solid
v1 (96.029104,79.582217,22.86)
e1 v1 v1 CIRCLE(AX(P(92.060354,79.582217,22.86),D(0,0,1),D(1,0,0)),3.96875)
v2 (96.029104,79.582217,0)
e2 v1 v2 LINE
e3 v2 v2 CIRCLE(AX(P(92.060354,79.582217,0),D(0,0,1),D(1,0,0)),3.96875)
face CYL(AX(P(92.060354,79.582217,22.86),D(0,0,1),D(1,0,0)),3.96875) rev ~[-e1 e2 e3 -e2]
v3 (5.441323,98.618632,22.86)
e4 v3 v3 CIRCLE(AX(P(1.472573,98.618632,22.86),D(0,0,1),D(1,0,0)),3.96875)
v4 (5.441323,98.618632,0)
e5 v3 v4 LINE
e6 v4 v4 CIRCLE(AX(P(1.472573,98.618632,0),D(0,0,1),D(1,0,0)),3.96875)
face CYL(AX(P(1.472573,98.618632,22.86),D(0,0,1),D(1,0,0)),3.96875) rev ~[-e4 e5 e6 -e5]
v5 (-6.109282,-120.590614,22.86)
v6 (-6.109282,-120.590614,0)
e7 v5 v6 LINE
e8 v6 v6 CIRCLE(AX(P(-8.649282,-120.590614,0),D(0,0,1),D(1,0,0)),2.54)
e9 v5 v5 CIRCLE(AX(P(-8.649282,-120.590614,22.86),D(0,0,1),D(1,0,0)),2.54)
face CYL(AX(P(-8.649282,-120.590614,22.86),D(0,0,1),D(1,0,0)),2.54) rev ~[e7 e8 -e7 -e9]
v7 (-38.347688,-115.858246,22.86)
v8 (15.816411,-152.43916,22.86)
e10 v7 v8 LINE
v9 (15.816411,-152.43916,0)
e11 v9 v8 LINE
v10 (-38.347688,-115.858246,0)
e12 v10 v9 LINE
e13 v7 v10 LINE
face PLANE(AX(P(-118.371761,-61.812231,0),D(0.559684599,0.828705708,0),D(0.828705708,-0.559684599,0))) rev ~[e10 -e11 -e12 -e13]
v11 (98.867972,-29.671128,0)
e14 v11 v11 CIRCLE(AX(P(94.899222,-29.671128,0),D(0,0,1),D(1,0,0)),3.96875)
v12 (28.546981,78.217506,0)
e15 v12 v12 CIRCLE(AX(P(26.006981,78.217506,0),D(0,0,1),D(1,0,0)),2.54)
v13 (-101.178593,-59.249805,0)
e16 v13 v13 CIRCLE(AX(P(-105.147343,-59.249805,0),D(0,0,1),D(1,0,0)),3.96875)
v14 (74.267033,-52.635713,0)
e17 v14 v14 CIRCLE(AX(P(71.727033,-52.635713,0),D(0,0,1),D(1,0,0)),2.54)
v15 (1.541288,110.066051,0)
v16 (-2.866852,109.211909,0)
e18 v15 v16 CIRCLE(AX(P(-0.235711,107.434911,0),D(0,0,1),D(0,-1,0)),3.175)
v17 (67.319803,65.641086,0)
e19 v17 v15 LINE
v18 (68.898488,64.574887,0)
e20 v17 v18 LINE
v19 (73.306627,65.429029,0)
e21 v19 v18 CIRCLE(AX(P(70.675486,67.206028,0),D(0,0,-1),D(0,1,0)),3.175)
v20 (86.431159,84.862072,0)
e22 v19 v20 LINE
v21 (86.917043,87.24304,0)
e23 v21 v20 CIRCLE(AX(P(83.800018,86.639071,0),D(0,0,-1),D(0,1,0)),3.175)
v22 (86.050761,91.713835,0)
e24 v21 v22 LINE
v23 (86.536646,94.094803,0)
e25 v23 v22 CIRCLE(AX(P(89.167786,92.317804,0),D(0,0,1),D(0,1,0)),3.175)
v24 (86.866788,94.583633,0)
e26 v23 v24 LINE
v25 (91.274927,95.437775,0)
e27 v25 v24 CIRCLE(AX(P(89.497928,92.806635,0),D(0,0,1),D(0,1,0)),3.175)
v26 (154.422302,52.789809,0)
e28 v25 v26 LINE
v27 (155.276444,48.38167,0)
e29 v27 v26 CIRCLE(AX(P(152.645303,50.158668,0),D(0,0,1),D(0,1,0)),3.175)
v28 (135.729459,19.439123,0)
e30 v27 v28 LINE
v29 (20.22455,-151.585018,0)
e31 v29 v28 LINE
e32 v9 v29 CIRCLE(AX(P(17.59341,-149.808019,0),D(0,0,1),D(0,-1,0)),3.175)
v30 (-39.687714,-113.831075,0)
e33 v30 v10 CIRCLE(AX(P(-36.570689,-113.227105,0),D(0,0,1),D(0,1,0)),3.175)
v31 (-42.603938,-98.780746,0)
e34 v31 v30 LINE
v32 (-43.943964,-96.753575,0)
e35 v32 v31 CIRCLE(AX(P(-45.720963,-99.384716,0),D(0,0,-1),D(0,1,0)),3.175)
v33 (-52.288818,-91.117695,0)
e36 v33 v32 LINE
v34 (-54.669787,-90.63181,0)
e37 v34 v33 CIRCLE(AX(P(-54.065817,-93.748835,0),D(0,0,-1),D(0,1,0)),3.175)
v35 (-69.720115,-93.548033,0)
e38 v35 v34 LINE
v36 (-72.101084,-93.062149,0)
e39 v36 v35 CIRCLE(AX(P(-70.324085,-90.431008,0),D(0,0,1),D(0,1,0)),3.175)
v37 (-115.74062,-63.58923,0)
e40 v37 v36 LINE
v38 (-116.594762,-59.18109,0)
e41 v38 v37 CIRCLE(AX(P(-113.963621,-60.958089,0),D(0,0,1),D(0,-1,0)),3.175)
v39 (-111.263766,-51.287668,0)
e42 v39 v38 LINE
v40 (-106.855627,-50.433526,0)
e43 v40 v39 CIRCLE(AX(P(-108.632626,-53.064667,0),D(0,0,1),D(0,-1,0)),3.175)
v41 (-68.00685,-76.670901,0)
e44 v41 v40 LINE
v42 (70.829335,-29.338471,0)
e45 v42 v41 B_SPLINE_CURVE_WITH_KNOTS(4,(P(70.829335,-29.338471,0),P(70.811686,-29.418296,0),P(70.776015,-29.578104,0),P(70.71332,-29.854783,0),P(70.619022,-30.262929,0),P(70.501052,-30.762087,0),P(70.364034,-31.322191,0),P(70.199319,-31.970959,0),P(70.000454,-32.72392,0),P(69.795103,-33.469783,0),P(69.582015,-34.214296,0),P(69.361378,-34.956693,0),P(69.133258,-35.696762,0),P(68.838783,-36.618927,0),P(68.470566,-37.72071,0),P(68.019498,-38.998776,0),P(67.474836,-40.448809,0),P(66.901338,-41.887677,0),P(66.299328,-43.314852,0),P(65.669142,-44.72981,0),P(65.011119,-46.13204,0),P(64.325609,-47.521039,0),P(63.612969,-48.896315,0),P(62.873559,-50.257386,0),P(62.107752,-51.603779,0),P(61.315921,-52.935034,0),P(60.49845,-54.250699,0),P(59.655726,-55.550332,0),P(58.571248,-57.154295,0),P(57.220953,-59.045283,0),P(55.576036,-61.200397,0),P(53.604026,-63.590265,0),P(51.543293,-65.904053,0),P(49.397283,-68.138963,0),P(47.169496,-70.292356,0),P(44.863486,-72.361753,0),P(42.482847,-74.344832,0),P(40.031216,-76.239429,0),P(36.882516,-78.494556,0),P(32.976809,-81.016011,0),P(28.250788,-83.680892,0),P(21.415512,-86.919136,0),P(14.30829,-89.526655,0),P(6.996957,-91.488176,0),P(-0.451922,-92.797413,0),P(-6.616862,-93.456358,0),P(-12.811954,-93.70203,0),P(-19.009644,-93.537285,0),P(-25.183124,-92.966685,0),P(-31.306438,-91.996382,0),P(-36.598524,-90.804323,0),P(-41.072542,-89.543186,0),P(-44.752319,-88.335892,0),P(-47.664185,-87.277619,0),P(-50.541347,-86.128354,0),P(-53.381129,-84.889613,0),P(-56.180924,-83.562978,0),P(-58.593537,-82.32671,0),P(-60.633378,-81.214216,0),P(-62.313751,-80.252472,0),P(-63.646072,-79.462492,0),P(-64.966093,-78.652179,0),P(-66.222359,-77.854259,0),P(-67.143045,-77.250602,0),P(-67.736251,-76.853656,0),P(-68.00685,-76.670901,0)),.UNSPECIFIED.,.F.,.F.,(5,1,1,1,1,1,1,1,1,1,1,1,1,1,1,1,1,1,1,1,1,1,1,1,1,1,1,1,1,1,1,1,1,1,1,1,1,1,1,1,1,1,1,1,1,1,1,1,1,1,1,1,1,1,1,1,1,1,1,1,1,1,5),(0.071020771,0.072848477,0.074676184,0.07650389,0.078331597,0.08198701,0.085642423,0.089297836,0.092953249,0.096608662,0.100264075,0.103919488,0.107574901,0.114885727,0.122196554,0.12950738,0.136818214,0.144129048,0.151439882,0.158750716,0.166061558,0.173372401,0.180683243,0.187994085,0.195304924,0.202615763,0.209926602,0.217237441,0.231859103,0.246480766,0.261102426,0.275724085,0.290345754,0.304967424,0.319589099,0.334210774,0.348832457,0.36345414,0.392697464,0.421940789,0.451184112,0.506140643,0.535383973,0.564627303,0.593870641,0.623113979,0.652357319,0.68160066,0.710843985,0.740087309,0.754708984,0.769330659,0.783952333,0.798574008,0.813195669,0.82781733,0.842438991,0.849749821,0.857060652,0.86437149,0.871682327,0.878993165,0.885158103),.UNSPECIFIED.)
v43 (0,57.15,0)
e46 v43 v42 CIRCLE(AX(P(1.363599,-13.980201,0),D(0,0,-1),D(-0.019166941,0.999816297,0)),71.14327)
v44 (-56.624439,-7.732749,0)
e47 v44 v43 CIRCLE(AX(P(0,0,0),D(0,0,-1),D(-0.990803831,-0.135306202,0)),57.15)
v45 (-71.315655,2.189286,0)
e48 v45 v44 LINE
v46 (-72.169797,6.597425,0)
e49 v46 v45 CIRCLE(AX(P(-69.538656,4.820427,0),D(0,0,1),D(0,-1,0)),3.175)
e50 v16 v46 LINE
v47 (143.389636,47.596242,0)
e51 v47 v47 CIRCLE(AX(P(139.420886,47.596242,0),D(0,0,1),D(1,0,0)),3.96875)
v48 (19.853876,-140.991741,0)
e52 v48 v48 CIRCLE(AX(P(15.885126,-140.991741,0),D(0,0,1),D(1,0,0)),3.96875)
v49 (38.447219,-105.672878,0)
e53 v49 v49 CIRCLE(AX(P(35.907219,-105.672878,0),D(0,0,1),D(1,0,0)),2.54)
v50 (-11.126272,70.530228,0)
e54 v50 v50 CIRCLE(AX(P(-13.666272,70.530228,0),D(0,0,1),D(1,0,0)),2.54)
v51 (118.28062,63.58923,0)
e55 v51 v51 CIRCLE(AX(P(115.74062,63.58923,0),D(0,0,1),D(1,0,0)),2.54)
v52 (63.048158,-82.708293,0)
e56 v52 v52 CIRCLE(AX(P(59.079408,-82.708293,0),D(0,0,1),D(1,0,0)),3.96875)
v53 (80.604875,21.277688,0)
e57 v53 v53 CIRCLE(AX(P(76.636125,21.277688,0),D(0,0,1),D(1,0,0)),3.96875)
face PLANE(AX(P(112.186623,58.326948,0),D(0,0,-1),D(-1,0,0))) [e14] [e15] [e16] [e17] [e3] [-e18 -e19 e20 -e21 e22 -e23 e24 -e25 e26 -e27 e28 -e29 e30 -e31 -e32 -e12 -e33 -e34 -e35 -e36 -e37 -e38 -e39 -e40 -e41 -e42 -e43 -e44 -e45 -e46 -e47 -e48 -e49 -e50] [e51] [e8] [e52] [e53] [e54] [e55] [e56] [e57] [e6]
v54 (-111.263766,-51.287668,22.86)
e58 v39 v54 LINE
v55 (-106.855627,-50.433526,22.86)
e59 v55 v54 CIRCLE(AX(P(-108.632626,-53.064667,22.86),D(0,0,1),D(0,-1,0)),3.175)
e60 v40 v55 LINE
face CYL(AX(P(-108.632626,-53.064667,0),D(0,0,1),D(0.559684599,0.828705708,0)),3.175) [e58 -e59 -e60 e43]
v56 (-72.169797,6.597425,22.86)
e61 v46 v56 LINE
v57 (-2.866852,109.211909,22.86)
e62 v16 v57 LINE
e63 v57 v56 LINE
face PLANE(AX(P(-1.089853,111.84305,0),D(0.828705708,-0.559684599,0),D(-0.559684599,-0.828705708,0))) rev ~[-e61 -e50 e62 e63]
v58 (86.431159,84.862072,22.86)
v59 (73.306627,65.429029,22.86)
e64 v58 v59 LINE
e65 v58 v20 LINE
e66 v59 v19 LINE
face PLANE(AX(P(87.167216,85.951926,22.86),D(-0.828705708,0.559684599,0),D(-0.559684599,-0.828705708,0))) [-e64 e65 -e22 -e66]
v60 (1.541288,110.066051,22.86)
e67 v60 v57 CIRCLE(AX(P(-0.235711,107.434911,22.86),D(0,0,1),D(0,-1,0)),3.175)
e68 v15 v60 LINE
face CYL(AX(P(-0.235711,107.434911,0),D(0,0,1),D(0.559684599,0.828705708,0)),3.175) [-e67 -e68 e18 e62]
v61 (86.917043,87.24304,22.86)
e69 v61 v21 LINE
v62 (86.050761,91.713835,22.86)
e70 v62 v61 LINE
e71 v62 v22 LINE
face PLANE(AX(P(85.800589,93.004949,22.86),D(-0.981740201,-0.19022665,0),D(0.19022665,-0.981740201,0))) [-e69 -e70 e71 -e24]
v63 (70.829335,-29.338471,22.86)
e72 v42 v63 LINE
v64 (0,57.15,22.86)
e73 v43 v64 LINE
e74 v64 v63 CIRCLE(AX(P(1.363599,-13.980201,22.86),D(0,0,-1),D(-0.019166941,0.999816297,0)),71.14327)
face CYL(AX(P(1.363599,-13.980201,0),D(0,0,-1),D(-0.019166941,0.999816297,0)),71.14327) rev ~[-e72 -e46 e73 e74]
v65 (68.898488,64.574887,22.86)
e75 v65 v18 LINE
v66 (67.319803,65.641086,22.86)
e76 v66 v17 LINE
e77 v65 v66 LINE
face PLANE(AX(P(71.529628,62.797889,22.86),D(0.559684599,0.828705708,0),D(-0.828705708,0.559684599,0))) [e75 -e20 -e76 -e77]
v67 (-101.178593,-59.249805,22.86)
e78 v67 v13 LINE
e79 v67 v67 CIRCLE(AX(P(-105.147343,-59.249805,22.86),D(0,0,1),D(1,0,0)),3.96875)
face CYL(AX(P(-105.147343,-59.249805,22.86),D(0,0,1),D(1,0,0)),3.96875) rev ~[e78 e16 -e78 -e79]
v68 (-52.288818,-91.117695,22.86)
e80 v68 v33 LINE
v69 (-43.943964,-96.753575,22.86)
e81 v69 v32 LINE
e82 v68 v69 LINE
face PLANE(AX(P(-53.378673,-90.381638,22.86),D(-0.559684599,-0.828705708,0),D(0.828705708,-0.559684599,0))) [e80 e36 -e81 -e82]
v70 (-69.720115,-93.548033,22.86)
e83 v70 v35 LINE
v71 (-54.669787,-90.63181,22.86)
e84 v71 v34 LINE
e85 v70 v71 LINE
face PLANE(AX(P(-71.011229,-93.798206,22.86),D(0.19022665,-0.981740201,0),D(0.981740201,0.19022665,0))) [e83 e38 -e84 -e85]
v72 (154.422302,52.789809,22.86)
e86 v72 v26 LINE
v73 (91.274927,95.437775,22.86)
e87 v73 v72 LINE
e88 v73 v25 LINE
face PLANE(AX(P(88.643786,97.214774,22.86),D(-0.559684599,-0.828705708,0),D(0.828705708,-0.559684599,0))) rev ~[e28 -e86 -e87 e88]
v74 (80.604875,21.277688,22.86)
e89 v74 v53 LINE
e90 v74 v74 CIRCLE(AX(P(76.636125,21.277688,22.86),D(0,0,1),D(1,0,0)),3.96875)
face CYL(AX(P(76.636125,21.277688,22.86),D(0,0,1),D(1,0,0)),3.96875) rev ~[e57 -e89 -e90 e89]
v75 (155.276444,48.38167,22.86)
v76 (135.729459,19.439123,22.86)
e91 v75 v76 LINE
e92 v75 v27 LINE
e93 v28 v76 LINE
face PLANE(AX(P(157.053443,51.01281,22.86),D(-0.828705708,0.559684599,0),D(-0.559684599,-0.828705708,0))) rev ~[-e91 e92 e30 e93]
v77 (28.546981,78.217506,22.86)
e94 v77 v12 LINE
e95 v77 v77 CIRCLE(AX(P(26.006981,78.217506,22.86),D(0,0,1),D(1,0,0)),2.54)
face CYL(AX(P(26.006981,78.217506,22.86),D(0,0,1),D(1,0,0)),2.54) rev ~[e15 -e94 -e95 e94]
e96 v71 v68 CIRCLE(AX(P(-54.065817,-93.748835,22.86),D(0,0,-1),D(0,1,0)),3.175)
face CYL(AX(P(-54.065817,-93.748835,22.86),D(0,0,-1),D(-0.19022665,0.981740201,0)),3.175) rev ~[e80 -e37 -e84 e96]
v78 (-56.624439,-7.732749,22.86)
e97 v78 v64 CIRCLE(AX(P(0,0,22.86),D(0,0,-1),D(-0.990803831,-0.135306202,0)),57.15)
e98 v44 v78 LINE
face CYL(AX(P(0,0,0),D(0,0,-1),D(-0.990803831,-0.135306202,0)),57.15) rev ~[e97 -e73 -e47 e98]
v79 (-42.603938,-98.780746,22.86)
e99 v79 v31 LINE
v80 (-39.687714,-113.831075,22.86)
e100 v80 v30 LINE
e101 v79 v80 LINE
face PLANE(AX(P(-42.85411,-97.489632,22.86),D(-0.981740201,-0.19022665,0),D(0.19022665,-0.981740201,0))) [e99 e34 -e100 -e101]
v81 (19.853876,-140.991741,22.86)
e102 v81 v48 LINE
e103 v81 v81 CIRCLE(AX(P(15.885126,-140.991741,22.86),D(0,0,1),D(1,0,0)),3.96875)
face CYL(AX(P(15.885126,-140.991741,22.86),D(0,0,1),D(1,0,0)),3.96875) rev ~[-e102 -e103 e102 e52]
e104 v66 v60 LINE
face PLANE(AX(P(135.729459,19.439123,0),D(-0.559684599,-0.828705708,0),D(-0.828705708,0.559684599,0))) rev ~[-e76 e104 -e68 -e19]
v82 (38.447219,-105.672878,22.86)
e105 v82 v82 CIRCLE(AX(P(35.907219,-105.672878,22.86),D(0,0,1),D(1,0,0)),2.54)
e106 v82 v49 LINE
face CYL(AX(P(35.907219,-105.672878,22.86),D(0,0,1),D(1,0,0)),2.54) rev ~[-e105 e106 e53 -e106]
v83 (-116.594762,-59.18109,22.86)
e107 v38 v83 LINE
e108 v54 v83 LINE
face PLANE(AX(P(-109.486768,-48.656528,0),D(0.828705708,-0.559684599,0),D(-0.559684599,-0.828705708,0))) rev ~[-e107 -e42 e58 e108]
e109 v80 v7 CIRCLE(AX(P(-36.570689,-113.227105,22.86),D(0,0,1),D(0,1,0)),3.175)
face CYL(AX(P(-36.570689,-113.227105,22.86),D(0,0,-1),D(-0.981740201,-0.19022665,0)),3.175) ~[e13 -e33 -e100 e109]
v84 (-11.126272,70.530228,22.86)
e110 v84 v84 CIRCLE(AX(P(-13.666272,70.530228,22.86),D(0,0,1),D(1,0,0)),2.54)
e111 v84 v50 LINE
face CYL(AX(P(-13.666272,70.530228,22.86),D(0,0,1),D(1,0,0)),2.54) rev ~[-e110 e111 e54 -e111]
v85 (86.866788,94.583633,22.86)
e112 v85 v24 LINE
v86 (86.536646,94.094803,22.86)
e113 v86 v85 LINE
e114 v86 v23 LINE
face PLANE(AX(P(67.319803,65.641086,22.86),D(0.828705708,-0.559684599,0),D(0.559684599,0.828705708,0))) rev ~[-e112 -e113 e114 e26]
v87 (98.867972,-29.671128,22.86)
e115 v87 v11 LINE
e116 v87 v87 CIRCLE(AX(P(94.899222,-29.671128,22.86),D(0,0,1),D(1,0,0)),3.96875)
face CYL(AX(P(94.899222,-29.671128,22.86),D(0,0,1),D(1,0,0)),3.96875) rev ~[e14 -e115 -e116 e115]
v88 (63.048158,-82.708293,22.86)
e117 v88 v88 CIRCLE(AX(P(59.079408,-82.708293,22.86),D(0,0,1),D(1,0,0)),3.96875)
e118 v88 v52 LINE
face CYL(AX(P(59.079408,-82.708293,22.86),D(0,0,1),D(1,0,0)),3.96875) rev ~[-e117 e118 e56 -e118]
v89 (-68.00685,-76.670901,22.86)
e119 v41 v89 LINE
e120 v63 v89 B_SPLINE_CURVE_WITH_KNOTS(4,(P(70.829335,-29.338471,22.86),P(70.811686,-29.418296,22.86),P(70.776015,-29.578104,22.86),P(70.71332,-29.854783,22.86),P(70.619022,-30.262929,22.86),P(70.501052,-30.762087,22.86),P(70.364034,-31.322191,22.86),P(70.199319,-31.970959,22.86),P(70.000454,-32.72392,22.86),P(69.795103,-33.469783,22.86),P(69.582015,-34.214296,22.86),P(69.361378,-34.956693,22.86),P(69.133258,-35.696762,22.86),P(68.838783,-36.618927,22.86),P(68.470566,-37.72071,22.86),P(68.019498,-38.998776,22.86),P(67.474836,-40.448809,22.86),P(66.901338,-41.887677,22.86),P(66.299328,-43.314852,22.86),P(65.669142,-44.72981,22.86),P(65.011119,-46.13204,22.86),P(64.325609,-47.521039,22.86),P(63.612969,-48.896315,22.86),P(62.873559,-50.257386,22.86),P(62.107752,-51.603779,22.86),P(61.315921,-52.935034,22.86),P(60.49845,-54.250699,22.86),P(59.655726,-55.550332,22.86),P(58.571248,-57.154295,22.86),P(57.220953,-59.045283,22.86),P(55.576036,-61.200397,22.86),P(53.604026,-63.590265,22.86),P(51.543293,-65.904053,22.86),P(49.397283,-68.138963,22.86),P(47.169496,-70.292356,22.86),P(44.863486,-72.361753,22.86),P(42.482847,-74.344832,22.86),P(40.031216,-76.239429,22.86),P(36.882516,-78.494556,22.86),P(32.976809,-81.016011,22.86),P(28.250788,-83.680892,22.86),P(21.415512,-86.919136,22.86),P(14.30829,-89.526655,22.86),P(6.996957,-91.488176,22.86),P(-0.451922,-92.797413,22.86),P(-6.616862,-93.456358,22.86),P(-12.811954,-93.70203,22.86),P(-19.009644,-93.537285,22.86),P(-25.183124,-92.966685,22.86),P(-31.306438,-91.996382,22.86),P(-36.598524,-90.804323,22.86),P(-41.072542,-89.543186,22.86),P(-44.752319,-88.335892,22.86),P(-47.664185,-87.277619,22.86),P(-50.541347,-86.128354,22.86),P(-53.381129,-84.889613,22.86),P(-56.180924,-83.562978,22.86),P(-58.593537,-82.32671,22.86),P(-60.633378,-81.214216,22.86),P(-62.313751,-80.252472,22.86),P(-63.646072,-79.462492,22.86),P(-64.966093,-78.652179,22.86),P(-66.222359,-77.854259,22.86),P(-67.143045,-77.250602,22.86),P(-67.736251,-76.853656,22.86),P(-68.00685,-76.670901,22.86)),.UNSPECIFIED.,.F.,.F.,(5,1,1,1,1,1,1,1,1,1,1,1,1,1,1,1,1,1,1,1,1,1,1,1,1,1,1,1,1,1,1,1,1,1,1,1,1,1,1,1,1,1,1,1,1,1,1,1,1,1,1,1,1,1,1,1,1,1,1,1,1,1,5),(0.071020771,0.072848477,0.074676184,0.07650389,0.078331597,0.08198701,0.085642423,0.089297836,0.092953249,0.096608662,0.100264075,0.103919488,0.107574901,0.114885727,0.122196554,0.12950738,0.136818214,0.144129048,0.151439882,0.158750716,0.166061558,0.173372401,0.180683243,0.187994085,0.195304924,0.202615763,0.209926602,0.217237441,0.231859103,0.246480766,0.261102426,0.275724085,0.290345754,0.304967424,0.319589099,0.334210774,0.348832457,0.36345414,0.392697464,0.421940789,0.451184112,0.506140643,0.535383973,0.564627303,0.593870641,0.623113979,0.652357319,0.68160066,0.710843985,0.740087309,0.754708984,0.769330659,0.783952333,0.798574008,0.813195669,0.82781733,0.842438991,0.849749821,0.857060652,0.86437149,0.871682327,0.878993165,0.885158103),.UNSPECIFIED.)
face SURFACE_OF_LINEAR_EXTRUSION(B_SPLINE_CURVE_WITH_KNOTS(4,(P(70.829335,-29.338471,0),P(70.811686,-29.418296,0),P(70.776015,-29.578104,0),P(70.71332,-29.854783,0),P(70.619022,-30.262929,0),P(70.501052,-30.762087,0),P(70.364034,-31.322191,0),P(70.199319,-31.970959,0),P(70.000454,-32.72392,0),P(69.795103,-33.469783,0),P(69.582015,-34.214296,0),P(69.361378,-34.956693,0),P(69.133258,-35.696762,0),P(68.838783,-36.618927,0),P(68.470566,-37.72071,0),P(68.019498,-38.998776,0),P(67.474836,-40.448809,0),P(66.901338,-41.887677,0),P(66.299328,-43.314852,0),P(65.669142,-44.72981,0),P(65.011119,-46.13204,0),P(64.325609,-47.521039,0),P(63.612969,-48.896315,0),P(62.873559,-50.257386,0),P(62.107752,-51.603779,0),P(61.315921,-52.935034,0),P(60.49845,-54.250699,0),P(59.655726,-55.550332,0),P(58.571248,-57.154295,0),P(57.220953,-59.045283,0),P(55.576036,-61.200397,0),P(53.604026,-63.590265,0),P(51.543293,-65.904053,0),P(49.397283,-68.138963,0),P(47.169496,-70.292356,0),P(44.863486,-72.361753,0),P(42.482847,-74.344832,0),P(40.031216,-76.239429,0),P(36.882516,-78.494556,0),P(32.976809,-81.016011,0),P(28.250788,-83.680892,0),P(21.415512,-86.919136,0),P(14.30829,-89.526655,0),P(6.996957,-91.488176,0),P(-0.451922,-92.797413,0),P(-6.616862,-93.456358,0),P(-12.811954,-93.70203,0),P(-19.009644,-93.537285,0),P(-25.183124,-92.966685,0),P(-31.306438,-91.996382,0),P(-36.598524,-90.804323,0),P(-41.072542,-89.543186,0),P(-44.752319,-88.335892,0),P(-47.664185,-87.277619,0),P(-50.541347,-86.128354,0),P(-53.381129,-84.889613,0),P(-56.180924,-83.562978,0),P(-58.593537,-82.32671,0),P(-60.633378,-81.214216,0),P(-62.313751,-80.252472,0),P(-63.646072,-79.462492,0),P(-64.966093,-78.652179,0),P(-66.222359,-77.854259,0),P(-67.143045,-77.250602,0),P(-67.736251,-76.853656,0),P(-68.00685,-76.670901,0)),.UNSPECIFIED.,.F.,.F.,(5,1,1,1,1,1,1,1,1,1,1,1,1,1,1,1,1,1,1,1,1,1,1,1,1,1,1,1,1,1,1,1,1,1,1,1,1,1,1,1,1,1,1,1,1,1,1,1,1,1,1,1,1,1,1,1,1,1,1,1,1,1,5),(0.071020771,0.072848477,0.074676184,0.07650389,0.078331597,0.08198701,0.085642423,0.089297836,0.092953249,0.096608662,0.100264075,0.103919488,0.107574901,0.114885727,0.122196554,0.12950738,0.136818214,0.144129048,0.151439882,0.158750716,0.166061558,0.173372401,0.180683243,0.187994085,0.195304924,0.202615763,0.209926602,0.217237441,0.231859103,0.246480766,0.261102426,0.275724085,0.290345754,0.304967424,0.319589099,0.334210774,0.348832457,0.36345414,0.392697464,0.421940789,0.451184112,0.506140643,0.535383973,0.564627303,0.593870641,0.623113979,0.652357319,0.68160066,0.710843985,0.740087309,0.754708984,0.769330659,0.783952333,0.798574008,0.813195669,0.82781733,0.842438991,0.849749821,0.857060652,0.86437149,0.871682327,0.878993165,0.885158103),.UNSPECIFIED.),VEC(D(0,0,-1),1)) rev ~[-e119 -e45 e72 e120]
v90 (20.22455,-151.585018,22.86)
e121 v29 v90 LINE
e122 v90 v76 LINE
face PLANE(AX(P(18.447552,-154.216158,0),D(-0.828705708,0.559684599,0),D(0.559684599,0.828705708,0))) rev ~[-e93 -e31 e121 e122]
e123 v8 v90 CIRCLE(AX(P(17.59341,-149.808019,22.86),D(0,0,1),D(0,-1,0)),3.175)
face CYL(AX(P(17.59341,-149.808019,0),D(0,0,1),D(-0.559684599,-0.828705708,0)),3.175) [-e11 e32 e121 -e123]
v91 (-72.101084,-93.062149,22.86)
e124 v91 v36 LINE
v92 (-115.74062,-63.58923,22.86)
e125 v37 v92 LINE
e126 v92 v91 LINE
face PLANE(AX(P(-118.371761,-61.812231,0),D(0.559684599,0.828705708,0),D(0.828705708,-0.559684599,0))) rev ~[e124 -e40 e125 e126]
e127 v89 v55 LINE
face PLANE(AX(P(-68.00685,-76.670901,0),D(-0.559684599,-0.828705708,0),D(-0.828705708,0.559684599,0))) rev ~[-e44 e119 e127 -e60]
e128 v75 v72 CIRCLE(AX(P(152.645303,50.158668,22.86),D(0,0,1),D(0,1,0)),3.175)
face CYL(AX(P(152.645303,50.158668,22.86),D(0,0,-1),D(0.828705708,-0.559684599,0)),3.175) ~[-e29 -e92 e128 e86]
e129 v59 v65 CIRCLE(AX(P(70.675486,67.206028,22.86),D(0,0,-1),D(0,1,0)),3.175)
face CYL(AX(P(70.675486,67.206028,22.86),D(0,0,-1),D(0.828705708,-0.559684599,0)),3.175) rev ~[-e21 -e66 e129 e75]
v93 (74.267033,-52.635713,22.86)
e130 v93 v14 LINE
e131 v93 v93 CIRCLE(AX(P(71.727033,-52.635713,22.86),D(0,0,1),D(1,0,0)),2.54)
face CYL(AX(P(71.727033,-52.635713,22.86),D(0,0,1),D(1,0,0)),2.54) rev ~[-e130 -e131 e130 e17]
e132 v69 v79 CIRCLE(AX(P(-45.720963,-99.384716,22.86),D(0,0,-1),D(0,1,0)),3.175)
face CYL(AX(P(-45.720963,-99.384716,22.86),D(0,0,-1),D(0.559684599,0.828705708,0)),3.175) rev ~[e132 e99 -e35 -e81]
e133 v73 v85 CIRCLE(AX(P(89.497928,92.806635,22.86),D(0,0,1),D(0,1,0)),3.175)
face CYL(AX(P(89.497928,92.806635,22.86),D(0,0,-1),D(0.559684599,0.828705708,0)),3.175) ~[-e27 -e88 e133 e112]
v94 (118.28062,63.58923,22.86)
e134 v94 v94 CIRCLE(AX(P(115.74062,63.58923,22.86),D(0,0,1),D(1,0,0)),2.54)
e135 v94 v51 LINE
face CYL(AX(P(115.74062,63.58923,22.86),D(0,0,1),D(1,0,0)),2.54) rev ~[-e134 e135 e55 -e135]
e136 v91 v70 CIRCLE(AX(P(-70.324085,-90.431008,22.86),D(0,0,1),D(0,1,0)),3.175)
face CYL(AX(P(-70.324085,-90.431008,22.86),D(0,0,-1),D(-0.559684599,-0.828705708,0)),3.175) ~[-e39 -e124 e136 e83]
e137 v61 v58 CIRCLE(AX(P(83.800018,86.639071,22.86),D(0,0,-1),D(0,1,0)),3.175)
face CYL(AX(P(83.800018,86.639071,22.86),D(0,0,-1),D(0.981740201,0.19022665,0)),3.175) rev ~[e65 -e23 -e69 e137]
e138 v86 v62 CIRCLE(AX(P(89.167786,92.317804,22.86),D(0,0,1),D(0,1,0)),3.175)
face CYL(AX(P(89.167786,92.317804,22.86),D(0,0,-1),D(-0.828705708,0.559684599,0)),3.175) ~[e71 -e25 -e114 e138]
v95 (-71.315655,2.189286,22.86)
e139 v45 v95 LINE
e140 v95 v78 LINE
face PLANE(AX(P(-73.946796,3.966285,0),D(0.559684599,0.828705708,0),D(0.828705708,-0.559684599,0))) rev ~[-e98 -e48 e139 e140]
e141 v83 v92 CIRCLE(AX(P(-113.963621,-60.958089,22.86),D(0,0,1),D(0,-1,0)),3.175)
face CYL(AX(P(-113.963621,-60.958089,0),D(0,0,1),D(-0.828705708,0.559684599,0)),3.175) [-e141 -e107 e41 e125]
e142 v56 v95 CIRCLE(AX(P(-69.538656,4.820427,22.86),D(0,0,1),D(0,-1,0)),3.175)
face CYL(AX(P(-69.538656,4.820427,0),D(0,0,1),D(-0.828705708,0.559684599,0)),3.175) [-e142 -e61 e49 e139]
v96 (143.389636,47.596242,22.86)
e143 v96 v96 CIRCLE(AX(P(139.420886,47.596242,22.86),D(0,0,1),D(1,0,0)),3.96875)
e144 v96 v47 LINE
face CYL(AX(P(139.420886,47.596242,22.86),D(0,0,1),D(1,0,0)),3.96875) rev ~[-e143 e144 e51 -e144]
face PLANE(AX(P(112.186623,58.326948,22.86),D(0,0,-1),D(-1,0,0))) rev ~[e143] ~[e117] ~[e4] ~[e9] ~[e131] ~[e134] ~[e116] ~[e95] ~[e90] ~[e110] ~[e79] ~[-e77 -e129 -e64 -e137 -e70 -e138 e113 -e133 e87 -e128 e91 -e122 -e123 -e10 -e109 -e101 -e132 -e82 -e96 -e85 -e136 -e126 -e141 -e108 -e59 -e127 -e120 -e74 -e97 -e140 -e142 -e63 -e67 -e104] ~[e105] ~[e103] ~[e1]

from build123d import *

# Parameters (mm, degrees)
BOSS_EXTRUDE2_DEPTH = 22.86
CUT_EXTRUDE1_DEPTH  = 23.8600001
SKETCH10_R          = 3.96875
CUT_EXTRUDE2_DEPTH  = 23.8600001
BOSS_EXTRUDE4_DEPTH = 22.86
SKETCH13_R          = 3.96875
CUT_EXTRUDE5_DEPTH  = 23.8600001
LPATTERN1_COUNT     = 2
LPATTERN1_PITCH     = 64
SKETCH14_R          = 2.54
CUT_EXTRUDE6_DEPTH  = 23.8600001
SKETCH15_R          = 3.96875
CUT_EXTRUDE7_DEPTH  = 23.8600001
SKETCH16_R          = 3.96875
CUT_EXTRUDE8_DEPTH  = 23.8600001
SKETCH19_R          = 3.96875
CUT_EXTRUDE11_DEPTH = 23.8600001
SKETCH21_R          = 2.54
CUT_EXTRUDE12_DEPTH = 23.8600001
SKETCH23_R          = 4.16785984
SKETCH23_R_2        = 4.440390953
BOSS_EXTRUDE5_DEPTH = 22.86
CUT_EXTRUDE13_DEPTH = 23.8600001
FILLET1_R           = 3.175


with BuildPart() as part:
    # Sketch6 → Boss-Extrude2 (new body)
    with BuildSketch(Plane.XY):
        with BuildLine():
            Line((-68.006850091, -76.67090114), (-109.486767671, -48.656527855))
            Line((-109.486767671, -48.656527855), (-118.371760678, -61.812230963))
            Line((-118.371760678, -61.812230963), (18.447551645, -154.216158235))
            Line((18.447551645, -154.216158235), (135.729459338, 19.43912279))
            Line((135.729459338, 19.43912279), (-1.089852986, 111.843050063))
            Line((-1.089852986, 111.843050063), (-73.946795643, 3.966284577))
            Line((-73.946795643, 3.966284577), (-56.624438948, -7.732749433))
            ThreePointArc((-56.624438948, -7.732749433), (-43.058385537, 37.577891571), (0, 57.15))
            ThreePointArc((0, 57.15), (56.404848571, 31.095576642), (70.829334649, -29.338471048))
            add(Edge.make_bspline(
                [(70.829334649, -29.338471048), (70.811686062, -29.418295928), (70.776015112, -29.578104383), (70.713320217, -29.85478305), (70.619021771, -30.262929245), (70.501052001, -30.762086912), (70.364034474, -31.322191481), (70.199318515, -31.970958926), (70.000453855, -32.723919765), (69.795103485, -33.469783355), (69.582015398, -34.214296028), (69.361377803, -34.956693289), (69.133257682, -35.696762218), (68.838782679, -36.61892651), (68.470566207, -37.720710028), (68.019498024, -38.998776477), (67.474836154, -40.448808619), (66.901337925, -41.887676852), (66.299328392, -43.31485223), (65.669141732, -44.729810424), (65.011119088, -46.132040323), (64.325609411, -47.52103904), (63.612968547, -48.896314904), (62.87355937, -50.257385735), (62.107751613, -51.603779381), (61.315921169, -52.935034173), (60.49845004, -54.250698756), (59.655726138, -55.550331897), (58.571247582, -57.154294757), (57.220953058, -59.045283389), (55.576035723, -61.200397094), (53.604026134, -63.590264702), (51.54329346, -65.904053004), (49.39728314, -68.138962994), (47.169496434, -70.29235602), (44.863486103, -72.361752995), (42.482847363, -74.344831806), (40.031215607, -76.239428526), (36.882516177, -78.494556171), (32.976808929, -81.016011003), (28.250788286, -83.68089187), (21.41551215, -86.919136497), (14.30829026, -89.526654921), (6.996956895, -91.488176442), (-0.451922312, -92.797413176), (-6.61686174, -93.456358442), (-12.81195397, -93.702029749), (-19.009644204, -93.537285056), (-25.183124422, -92.966685286), (-31.306438312, -91.996382122), (-36.598524037, -90.804323442), (-41.072542301, -89.543185606), (-44.752319298, -88.33589156), (-47.664184976, -87.27761875), (-50.541347258, -86.128353728), (-53.381128552, -84.889612663), (-56.180924218, -83.562977818), (-58.593536599, -82.326710176), (-60.633378351, -81.214215821), (-62.313751085, -80.252471782), (-63.646071553, -79.462491566), (-64.966093336, -78.652178853), (-66.222359154, -77.854259082), (-67.143044791, -77.250601571), (-67.736251212, -76.85365602), (-68.006850091, -76.67090114)],
                knots=[0.071020771, 0.071020771, 0.071020771, 0.071020771, 0.071020771, 0.072848477, 0.074676184, 0.07650389, 0.078331597, 0.08198701, 0.085642423, 0.089297836, 0.092953249, 0.096608662, 0.100264075, 0.103919488, 0.107574901, 0.114885727, 0.122196554, 0.12950738, 0.136818214, 0.144129048, 0.151439882, 0.158750716, 0.166061558, 0.173372401, 0.180683243, 0.187994085, 0.195304924, 0.202615763, 0.209926602, 0.217237441, 0.231859103, 0.246480766, 0.261102426, 0.275724085, 0.290345754, 0.304967424, 0.319589099, 0.334210774, 0.348832457, 0.36345414, 0.392697464, 0.421940789, 0.451184112, 0.506140643, 0.535383973, 0.564627303, 0.593870641, 0.623113979, 0.652357319, 0.68160066, 0.710843985, 0.740087309, 0.754708984, 0.769330659, 0.783952333, 0.798574008, 0.813195669, 0.82781733, 0.842438991, 0.849749821, 0.857060652, 0.86437149, 0.871682327, 0.878993165, 0.885158103, 0.885158103, 0.885158103, 0.885158103, 0.885158103], degree=4))
        make_face()
    extrude(amount=BOSS_EXTRUDE2_DEPTH)

    # Sketch8 → Cut-Extrude1 (cut, through all)
    with BuildSketch(Plane.XY.offset(22.86)):
        Polygon((-71.011229489, -93.798205788), (-53.378672597, -90.381637707), (-42.854110111, -97.489632113), (-39.43754203, -115.122189004), align=None)
    extrude(amount=-CUT_EXTRUDE1_DEPTH, mode=Mode.SUBTRACT)

    # Sketch10 → Cut-Extrude2 (cut, through all)
    with BuildSketch(Plane.XY.offset(22.86)):
        with Locations((4.996496209, -84.796642912)):
            Circle(SKETCH10_R)
        with Locations((40.816310536, -31.759477627)):
            Circle(SKETCH10_R)
        with Locations((76.636124864, 21.277687659)):
            Circle(SKETCH10_R)
        with Locations((-45.295165913, -45.214466102)):
            Circle(SKETCH10_R)
    extrude(amount=-CUT_EXTRUDE2_DEPTH, mode=Mode.SUBTRACT)

    # Sketch12 → Boss-Extrude4 (add, through all)
    with BuildSketch(Plane.XY.offset(22.86)):
        Polygon((135.729459338, 19.43912279), (67.319803176, 65.641086427), (88.643786393, 97.214773886), (157.053442554, 51.01281025), align=None)
    extrude(amount=-BOSS_EXTRUDE4_DEPTH)

    # Sketch13 → Cut-Extrude5 (cut, through all)
    with BuildSketch(Plane.XY.offset(22.86)):
        with Locations((94.899221836, -29.671127724)):
            Circle(SKETCH13_R)
    cut_extrude5 = extrude(amount=-CUT_EXTRUDE5_DEPTH, mode=Mode.SUBTRACT)

    # LPattern1: Cut-Extrude5 ×2
    with Locations(*[Vector(-0.559684599, -0.828705708, 0) * (i * LPATTERN1_PITCH) for i in range(1, LPATTERN1_COUNT)]):
        add(cut_extrude5, mode=Mode.SUBTRACT)

    # Sketch14 → Cut-Extrude6 (cut, through all)
    with BuildSketch(Plane.XY.offset(22.86)):
        with Locations((71.72703343, -52.635713164)):
            Circle(SKETCH14_R)
        with Locations((35.907219102, -105.67287845)):
            Circle(SKETCH14_R)
        with Locations((115.740620068, 63.589229581)):
            Circle(SKETCH14_R)
    extrude(amount=-CUT_EXTRUDE6_DEPTH, mode=Mode.SUBTRACT)

    # Sketch15 → Cut-Extrude7 (cut, through all)
    with BuildSketch(Plane.XY.offset(22.86)):
        with Locations((-105.147343009, -59.249804902)):
            Circle(SKETCH15_R)
        with Locations((15.885125585, -140.991740566)):
            Circle(SKETCH15_R)
        with Locations((1.472573075, 98.618632394)):
            Circle(SKETCH15_R)
    extrude(amount=-CUT_EXTRUDE7_DEPTH, mode=Mode.SUBTRACT)

    # Sketch16 → Cut-Extrude8 (cut, through all)
    with BuildSketch(Plane.XY.offset(22.86)):
        with Locations((92.060354474, 79.582216994)):
            Circle(SKETCH16_R)
        with Locations((139.420885662, 47.596242169)):
            Circle(SKETCH16_R)
    extrude(amount=-CUT_EXTRUDE8_DEPTH, mode=Mode.SUBTRACT)

    # Sketch19 → Cut-Extrude11 (cut, through all)
    with BuildSketch(Plane.XY.offset(22.86)):
        with Locations((-65.680233685, -85.904783923)):
            Circle(SKETCH19_R)
    extrude(amount=-CUT_EXTRUDE11_DEPTH, mode=Mode.SUBTRACT)

    # Sketch21 → Cut-Extrude12 (cut, through all)
    with BuildSketch(Plane.XY.offset(22.86)):
        with Locations((-13.666272317, 70.530227577)):
            Circle(SKETCH21_R)
        with Locations((26.00698069, 78.217505758)):
            Circle(SKETCH21_R)
        with Locations((-86.729358658, -71.688795112)):
            Circle(SKETCH21_R)
        with Locations((-8.64928203, -120.590613931)):
            Circle(SKETCH21_R)
    extrude(amount=-CUT_EXTRUDE12_DEPTH, mode=Mode.SUBTRACT)

    # Sketch23 → Boss-Extrude5 (add, through all)
    with BuildSketch(Plane.XY.offset(22.86)):
        with Locations((-65.680233685, -85.904783923)):
            Circle(SKETCH23_R)
        with Locations((-86.729358658, -71.688795112)):
            Circle(SKETCH23_R_2)
    extrude(amount=-BOSS_EXTRUDE5_DEPTH)

    # Sketch25 → Cut-Extrude13 (cut, through all)
    with BuildSketch(Plane.XY.offset(22.86)):
        Polygon((85.800588631, 93.004948891), (87.167215863, 85.951926135), (71.529628171, 62.797888664), (67.319803176, 65.641086427), align=None)
    extrude(amount=-CUT_EXTRUDE13_DEPTH, mode=Mode.SUBTRACT)

    # Fillet1
    fillet1_edges = [part.edges().sort_by_distance(p)[0] for p in [
        (-73.946795643, 3.966284577, 11.43),
        (-1.089852986, 111.843050063, 11.43),
        (18.447551645, -154.216158235, 11.43),
        (-118.371760678, -61.812230963, 11.43),
        (-109.486767671, -48.656527855, 11.43),
        (85.800588631, 93.004948891, 11.43),
        (87.167215863, 85.951926135, 11.43),
        (71.529628171, 62.797888664, 11.43),
        (-39.43754203, -115.122189004, 11.43),
        (-71.011229489, -93.798205788, 11.43),
        (-53.378672597, -90.381637707, 11.43),
        (-42.854110111, -97.489632113, 11.43),
        (157.053442554, 51.01281025, 11.43),
        (88.643786393, 97.214773886, 11.43),
    ]]
    fillet(fillet1_edges, radius=FILLET1_R)


solid = part.part
